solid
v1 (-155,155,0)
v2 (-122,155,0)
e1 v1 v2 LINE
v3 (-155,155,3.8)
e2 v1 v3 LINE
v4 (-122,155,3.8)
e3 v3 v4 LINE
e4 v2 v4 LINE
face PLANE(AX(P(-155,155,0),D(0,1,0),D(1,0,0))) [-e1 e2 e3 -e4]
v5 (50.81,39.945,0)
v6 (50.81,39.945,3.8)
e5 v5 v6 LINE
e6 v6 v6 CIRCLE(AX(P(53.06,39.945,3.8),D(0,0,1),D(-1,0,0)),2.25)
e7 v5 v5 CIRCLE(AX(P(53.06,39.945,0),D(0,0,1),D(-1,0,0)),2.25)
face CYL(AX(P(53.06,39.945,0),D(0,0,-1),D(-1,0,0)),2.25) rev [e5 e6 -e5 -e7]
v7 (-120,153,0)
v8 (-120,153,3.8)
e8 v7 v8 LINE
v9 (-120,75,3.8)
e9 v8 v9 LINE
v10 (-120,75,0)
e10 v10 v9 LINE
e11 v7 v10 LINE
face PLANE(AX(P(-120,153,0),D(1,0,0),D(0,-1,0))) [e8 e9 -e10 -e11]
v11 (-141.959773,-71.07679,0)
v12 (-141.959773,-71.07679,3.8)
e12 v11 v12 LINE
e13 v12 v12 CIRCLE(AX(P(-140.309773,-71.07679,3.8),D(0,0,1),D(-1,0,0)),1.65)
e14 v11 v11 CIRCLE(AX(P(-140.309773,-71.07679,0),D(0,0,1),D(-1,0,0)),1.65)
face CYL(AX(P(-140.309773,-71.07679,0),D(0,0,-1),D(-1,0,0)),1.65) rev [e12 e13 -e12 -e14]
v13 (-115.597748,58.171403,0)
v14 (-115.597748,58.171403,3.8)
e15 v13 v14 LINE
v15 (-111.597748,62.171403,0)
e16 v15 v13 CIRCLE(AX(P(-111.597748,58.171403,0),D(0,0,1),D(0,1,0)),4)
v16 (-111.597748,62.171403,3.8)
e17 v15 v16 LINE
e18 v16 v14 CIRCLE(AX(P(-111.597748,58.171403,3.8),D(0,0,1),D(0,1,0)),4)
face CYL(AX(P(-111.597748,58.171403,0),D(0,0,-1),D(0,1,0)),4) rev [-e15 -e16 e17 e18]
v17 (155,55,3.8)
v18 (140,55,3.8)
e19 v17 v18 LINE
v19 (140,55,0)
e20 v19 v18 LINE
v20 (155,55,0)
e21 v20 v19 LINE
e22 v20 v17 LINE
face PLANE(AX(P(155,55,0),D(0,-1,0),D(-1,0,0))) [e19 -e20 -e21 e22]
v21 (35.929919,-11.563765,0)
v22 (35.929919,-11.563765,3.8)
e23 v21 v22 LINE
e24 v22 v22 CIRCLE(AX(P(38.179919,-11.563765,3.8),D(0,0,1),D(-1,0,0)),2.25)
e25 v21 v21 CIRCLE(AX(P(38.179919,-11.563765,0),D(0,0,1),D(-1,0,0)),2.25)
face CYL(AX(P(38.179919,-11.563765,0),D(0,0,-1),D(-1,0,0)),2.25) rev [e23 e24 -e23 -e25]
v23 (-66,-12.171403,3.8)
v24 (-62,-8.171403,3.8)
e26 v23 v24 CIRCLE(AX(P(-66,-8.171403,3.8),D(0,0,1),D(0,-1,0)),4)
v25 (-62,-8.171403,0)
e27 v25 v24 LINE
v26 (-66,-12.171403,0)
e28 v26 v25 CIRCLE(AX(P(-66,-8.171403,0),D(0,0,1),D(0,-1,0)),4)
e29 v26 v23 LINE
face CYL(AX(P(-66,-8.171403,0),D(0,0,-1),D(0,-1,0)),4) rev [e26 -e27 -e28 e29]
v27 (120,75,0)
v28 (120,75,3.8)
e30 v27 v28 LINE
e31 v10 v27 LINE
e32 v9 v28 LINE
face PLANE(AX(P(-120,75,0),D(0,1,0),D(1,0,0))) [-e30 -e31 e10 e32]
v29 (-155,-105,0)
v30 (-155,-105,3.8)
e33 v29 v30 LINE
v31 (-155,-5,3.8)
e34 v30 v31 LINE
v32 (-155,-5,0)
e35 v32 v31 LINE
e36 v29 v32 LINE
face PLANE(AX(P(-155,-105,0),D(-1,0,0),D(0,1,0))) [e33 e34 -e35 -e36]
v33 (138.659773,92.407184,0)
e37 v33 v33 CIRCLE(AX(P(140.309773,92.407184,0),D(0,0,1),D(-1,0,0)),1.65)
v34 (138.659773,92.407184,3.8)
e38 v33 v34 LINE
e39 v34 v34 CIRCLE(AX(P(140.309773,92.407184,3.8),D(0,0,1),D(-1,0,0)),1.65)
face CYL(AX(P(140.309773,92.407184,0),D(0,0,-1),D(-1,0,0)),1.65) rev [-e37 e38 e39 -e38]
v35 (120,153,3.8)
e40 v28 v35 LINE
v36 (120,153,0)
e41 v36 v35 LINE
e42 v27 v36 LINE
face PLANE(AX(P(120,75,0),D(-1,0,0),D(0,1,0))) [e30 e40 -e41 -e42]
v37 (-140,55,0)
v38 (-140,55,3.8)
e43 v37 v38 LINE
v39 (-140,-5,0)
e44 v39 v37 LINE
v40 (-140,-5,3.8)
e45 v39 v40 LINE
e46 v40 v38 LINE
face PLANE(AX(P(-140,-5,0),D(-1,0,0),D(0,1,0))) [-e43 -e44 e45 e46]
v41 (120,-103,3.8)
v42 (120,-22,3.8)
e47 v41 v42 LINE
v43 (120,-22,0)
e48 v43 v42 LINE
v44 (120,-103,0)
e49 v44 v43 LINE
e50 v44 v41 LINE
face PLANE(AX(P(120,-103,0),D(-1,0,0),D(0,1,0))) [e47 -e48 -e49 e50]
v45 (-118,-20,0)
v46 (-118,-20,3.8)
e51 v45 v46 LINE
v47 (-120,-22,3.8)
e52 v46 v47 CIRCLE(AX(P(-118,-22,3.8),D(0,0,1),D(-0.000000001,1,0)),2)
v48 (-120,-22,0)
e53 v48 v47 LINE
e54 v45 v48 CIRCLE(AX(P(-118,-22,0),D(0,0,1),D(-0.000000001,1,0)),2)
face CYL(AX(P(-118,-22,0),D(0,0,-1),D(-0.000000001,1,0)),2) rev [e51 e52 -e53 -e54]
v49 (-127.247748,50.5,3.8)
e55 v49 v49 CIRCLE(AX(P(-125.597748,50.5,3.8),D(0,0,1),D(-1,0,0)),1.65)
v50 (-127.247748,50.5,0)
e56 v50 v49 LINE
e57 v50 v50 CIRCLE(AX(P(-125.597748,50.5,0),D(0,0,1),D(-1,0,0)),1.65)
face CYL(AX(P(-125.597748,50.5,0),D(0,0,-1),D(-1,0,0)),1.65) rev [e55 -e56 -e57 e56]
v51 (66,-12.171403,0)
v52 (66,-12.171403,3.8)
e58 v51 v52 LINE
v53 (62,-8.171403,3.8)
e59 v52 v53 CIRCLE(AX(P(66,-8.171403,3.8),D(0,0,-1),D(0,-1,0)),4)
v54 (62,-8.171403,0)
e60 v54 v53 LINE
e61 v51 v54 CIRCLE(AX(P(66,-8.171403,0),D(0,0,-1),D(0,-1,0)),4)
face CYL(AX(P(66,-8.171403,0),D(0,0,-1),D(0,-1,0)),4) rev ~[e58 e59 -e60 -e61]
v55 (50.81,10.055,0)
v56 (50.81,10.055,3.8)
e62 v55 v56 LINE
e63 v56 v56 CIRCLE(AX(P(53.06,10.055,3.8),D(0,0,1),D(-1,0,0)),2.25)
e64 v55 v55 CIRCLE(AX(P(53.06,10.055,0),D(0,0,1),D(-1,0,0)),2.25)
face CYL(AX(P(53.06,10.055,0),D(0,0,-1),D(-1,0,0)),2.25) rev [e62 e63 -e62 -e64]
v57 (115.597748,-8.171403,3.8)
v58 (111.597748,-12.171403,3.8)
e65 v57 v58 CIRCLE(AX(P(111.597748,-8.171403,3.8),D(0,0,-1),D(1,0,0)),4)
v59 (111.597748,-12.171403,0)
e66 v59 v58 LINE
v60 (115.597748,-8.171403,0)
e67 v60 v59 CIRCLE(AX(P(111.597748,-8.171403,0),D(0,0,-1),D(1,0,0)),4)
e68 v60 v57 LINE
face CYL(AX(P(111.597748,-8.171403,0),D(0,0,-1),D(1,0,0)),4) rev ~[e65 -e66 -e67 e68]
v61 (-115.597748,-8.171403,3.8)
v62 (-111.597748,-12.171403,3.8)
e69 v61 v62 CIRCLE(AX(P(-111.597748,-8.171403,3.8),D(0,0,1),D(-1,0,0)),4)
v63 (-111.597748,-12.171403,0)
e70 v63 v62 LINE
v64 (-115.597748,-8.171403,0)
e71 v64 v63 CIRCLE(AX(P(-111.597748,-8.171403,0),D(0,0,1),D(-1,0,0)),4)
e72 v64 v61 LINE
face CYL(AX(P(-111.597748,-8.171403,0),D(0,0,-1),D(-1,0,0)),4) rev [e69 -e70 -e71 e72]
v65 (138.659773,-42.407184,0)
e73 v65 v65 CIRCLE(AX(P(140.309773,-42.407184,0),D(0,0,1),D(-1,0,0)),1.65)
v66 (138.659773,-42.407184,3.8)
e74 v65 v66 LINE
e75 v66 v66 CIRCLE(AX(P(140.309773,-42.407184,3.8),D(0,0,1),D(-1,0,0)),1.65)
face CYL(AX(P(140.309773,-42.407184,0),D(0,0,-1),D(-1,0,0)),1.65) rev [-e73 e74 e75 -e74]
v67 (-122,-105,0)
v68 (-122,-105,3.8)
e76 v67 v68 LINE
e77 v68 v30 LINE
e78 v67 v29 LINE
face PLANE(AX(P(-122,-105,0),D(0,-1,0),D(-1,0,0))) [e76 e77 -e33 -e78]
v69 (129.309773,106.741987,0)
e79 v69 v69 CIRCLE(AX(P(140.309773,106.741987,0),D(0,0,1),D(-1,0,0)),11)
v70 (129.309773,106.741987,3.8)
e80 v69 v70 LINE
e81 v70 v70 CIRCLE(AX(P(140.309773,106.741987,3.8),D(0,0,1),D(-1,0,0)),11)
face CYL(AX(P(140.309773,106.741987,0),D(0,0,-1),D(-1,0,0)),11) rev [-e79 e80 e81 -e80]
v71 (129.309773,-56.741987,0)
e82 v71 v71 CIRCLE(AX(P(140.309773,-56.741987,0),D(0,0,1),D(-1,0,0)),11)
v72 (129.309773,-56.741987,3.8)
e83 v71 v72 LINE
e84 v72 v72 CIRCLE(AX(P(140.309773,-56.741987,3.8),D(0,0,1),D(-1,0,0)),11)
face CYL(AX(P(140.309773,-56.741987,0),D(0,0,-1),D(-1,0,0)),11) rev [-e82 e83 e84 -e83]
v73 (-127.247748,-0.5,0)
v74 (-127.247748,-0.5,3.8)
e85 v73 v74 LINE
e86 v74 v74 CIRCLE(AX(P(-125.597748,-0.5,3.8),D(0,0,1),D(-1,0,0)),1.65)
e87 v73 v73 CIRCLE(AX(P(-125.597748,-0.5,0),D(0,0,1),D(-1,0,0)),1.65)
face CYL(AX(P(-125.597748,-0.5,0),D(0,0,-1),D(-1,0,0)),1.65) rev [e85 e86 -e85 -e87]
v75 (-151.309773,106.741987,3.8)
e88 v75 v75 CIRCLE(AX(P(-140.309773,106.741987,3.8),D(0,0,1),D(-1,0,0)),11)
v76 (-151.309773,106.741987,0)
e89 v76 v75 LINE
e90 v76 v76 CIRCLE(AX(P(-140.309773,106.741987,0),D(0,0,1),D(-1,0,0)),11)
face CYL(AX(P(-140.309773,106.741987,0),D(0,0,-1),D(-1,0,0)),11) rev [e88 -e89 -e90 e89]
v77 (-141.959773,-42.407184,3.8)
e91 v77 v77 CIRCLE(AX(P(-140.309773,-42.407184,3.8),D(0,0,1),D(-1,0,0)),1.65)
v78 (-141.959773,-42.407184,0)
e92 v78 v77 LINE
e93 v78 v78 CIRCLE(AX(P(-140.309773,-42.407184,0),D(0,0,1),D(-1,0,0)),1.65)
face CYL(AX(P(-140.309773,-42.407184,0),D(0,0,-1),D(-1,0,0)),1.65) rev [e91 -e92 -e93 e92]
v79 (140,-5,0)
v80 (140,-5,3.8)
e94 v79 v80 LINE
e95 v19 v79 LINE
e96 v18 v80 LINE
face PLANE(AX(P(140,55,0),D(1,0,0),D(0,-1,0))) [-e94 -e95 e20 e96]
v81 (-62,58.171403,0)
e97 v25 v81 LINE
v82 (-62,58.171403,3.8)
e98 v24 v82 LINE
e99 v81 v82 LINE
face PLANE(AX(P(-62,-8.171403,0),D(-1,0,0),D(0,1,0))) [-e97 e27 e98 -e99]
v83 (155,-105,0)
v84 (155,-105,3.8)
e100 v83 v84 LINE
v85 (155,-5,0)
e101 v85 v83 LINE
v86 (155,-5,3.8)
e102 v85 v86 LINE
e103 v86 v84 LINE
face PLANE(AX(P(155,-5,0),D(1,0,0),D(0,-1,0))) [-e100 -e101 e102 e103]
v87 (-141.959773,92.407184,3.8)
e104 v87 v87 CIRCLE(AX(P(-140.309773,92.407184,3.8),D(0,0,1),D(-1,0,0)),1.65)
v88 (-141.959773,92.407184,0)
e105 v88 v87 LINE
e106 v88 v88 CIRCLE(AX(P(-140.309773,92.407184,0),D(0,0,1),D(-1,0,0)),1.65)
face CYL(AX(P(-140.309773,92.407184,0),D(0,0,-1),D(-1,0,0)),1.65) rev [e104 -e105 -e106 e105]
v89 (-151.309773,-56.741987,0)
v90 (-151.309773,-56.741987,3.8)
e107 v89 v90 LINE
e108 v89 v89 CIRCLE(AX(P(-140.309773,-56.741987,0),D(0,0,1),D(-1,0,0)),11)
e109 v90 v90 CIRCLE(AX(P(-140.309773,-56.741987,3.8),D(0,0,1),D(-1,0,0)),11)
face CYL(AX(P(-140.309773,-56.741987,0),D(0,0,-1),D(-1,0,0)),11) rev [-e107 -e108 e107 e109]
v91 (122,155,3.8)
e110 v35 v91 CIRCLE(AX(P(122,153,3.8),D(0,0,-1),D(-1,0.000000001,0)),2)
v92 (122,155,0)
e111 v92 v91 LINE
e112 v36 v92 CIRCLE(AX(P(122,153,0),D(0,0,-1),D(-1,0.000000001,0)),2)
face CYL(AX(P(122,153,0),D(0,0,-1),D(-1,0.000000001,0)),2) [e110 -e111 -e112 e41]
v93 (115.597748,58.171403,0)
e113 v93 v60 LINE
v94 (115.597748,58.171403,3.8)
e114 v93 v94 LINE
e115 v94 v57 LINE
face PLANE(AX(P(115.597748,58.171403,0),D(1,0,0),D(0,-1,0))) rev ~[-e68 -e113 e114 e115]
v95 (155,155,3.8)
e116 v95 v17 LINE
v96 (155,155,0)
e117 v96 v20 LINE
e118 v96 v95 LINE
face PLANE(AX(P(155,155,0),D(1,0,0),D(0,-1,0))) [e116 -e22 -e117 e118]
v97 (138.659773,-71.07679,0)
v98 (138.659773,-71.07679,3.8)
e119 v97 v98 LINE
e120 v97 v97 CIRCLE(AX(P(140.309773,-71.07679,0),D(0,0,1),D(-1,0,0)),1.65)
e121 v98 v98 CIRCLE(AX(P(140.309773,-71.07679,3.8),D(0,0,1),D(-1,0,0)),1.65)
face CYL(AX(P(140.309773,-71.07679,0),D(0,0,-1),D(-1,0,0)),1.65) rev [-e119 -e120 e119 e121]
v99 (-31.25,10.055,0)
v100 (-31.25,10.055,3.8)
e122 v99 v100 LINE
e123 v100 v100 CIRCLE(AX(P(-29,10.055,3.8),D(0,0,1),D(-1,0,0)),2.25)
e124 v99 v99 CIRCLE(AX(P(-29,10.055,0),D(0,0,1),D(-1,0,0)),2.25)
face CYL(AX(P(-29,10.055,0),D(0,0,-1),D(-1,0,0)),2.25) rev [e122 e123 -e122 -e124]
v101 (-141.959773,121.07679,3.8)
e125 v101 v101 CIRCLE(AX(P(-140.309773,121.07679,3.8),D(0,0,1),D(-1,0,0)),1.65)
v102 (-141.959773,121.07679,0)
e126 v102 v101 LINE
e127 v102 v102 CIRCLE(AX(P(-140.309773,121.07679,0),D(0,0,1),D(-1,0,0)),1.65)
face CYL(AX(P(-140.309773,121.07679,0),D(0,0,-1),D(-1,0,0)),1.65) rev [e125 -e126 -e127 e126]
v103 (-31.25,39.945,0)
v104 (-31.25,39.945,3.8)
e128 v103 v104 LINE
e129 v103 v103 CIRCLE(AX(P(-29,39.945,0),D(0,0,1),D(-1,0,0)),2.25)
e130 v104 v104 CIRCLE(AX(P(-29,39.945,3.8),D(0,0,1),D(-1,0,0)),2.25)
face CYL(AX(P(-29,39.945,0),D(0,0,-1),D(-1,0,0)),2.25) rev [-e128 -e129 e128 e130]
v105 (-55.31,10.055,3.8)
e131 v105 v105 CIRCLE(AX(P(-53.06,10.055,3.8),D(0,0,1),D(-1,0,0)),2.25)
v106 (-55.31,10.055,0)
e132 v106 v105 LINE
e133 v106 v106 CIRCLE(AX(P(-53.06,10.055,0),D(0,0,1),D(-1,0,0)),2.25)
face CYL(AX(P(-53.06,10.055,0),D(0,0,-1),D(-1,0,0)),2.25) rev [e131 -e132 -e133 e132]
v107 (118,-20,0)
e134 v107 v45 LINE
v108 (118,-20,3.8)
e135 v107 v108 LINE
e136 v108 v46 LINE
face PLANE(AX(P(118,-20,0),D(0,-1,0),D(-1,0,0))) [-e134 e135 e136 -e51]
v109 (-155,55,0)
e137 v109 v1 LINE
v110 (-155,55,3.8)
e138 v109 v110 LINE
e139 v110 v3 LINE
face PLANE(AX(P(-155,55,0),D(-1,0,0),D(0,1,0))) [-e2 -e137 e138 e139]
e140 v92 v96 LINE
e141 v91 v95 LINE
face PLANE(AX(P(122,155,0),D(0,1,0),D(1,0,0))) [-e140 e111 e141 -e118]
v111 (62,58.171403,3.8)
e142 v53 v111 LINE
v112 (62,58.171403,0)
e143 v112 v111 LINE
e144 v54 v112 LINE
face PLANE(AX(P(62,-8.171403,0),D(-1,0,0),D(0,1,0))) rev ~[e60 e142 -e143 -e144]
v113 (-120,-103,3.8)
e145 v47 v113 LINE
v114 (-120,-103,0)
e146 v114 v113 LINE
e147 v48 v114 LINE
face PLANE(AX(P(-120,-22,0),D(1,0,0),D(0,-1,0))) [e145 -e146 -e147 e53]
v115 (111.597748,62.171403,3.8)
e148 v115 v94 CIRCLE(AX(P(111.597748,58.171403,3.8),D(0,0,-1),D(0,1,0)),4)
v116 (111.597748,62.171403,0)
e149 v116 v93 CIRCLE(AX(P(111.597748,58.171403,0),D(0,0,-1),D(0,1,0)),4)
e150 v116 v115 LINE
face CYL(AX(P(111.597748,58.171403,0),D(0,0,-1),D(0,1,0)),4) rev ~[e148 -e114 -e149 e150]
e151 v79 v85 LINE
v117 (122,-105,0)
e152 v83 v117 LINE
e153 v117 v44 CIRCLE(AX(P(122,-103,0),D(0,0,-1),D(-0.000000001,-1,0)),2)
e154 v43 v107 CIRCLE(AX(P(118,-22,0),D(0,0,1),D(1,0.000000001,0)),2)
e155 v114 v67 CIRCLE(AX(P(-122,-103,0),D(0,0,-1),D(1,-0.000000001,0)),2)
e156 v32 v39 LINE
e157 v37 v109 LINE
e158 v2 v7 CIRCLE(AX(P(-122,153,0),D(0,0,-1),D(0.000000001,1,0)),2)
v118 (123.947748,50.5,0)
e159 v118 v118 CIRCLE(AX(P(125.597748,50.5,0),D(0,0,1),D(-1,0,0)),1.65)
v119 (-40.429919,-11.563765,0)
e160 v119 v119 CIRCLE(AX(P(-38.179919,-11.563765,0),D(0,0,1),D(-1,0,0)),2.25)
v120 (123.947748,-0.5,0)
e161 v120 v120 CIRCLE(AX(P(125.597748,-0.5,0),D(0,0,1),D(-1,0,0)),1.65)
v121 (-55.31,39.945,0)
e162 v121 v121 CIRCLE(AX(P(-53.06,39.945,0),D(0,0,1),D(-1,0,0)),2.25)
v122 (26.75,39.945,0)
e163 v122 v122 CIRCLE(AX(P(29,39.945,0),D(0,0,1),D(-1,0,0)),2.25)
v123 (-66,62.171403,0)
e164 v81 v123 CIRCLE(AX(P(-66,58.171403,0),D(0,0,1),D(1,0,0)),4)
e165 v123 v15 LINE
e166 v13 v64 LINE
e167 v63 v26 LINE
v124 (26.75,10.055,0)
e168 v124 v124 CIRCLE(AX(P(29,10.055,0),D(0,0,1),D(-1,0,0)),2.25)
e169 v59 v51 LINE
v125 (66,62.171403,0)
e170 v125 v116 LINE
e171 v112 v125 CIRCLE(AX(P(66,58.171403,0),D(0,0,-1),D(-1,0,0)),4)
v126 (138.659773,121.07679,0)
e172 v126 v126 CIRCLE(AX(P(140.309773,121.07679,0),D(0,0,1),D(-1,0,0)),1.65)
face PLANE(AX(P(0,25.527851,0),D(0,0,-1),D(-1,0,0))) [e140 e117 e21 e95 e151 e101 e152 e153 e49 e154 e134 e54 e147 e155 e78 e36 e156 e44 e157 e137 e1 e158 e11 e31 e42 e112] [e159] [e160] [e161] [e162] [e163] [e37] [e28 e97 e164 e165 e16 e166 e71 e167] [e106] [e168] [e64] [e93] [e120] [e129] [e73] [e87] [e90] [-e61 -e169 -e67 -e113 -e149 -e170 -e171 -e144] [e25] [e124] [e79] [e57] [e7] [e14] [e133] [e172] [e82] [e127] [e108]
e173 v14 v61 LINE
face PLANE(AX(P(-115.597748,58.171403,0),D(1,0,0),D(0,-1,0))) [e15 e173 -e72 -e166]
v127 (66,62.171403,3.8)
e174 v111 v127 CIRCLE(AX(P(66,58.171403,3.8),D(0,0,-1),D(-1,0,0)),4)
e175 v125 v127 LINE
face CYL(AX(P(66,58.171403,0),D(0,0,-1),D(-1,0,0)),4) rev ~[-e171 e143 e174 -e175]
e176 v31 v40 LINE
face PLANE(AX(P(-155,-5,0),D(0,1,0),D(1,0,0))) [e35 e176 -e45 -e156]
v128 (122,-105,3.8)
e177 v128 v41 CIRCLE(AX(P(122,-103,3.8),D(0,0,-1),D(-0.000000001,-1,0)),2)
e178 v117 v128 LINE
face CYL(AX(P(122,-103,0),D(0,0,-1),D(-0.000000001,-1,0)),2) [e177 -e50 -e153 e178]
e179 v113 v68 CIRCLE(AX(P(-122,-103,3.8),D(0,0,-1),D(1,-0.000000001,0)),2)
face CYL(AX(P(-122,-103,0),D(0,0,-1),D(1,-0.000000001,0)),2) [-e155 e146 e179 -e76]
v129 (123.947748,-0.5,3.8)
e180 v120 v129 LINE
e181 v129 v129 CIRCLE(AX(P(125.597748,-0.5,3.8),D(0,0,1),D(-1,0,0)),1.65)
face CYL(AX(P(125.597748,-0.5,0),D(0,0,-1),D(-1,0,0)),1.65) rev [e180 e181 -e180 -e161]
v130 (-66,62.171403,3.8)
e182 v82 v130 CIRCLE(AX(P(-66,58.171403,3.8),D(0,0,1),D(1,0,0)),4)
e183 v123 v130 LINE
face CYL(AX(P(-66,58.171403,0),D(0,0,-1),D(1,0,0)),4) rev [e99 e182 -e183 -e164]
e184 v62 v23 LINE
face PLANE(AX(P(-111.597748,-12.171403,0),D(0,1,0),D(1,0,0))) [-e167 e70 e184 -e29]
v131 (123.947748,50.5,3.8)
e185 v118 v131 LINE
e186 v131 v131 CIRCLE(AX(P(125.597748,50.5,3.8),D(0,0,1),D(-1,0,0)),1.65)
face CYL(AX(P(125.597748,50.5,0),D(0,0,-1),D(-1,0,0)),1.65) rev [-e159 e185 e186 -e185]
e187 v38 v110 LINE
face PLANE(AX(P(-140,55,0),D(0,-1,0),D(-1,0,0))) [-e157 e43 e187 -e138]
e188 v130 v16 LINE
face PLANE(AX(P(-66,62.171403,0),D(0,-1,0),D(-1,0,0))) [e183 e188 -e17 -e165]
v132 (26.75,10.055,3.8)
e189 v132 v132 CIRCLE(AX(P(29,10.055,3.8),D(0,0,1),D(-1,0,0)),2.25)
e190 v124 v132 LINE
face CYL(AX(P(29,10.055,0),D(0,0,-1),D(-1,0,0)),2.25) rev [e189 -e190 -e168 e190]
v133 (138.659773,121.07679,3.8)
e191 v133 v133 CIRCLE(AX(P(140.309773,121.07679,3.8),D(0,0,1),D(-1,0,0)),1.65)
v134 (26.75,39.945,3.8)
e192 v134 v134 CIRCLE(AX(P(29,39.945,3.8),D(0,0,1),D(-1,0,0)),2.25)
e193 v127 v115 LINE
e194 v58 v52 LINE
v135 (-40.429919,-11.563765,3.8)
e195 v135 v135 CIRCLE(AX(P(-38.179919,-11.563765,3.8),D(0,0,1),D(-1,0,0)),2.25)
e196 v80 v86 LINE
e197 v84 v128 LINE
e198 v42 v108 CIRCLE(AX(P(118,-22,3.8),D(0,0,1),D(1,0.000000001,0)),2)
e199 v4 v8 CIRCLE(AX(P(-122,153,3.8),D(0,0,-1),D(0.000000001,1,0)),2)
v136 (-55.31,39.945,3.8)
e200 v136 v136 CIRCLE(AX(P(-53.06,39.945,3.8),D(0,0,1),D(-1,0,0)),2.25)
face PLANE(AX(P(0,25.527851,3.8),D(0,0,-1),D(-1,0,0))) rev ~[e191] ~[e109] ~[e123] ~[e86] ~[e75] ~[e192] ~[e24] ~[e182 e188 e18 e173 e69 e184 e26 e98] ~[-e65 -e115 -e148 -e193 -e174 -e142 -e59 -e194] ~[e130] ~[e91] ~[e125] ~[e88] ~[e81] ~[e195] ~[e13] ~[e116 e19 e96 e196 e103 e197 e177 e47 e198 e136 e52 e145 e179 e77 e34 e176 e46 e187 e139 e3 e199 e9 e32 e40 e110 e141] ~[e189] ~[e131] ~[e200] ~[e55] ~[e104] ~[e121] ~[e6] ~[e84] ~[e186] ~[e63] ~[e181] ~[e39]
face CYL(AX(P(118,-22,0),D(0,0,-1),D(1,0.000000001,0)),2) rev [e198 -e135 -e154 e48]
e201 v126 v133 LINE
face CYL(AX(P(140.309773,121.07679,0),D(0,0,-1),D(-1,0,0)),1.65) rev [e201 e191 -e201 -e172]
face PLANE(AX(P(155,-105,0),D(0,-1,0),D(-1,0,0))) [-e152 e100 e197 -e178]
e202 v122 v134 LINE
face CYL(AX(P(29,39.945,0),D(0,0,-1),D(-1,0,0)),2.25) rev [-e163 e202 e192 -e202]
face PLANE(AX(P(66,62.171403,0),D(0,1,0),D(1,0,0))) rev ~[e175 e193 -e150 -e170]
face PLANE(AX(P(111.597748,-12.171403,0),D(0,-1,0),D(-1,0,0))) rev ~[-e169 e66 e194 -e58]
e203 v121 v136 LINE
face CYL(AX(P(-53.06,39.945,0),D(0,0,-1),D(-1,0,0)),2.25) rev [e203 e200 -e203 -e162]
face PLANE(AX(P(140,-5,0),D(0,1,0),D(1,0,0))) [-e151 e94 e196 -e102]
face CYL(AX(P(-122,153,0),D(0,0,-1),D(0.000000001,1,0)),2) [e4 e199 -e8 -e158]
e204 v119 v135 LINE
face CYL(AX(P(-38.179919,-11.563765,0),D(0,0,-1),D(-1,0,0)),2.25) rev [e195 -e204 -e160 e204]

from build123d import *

# Parameters (mm, degrees)
SKETCH2_R           = 1.65
SKETCH2_R_2         = 11
SKETCH2_R_3         = 2.25
BOSS_EXTRUDE1_DEPTH = 3.8


with BuildPart() as part:
    # Sketch2 → Boss-Extrude1 (new body)
    with BuildSketch(Plane.XY):
        with BuildLine():
            Line((-155, 155), (-122, 155))
            ThreePointArc((-122, 155), (-120.585786438, 154.414213562), (-120, 153))
            Line((-120, 153), (-120, 75))
            Line((-120, 75), (120, 75))
            Line((120, 75), (120, 153))
            ThreePointArc((120, 153), (120.585786438, 154.414213562), (122, 155))
            Line((122, 155), (155, 155))
            Line((155, 155), (155, 55))
            Line((155, 55), (140, 55))
            Line((140, 55), (140, -5))
            Line((140, -5), (155, -5))
            Line((155, -5), (155, -105))
            Line((155, -105), (122, -105))
            ThreePointArc((122, -105), (120.585786438, -104.414213562), (120, -103))
            Line((120, -103), (120, -22))
            ThreePointArc((120, -22), (119.414213562, -20.585786438), (118, -20))
            Line((118, -20), (-118, -20))
            ThreePointArc((-118, -20), (-119.414213562, -20.585786438), (-120, -22))
            Line((-120, -22), (-120, -103))
            ThreePointArc((-120, -103), (-120.585786438, -104.414213562), (-122, -105))
            Line((-122, -105), (-155, -105))
            Line((-155, -105), (-155, -5))
            Line((-155, -5), (-140, -5))
            Line((-140, -5), (-140, 55))
            Line((-140, 55), (-155, 55))
            Line((-155, 55), (-155, 155))
        make_face()
        with Locations(Location((-140.309773495, 121.076789794, 0), (0, 0, 180))):
            Circle(SKETCH2_R, mode=Mode.SUBTRACT)
        with Locations(Location((-140.309773495, 92.407184142, 0), (0, 0, 180))):
            Circle(SKETCH2_R, mode=Mode.SUBTRACT)
        with Locations(Location((140.309773495, 121.076789794, 0), (0, 0, 180))):
            Circle(SKETCH2_R, mode=Mode.SUBTRACT)
        with Locations(Location((140.309773495, 92.407184142, 0), (0, 0, 180))):
            Circle(SKETCH2_R, mode=Mode.SUBTRACT)
        with Locations(Location((140.309773495, 106.741986968, 0), (0, 0, 180))):
            Circle(SKETCH2_R_2, mode=Mode.SUBTRACT)
        with Locations(Location((-140.309773495, 106.741986968, 0), (0, 0, 180))):
            Circle(SKETCH2_R_2, mode=Mode.SUBTRACT)
        with Locations(Location((125.59774802, -0.5, 0), (0, 0, 180))):
            Circle(SKETCH2_R, mode=Mode.SUBTRACT)
        with Locations(Location((125.59774802, 50.5, 0), (0, 0, 180))):
            Circle(SKETCH2_R, mode=Mode.SUBTRACT)
        with Locations(Location((-125.59774802, -0.5, 0), (0, 0, 180))):
            Circle(SKETCH2_R, mode=Mode.SUBTRACT)
        with Locations(Location((-125.59774802, 50.5, 0), (0, 0, 180))):
            Circle(SKETCH2_R, mode=Mode.SUBTRACT)
        with Locations(Location((-29, 10.055, 0), (0, 0, 180))):
            Circle(SKETCH2_R_3, mode=Mode.SUBTRACT)
        with Locations(Location((-29, 39.945, 0), (0, 0, 180))):
            Circle(SKETCH2_R_3, mode=Mode.SUBTRACT)
        with Locations(Location((-53.06, 39.945, 0), (0, 0, 180))):
            Circle(SKETCH2_R_3, mode=Mode.SUBTRACT)
        with Locations(Location((-53.06, 10.055, 0), (0, 0, 180))):
            Circle(SKETCH2_R_3, mode=Mode.SUBTRACT)
        with Locations(Location((53.06, 10.055, 0), (0, 0, 180))):
            Circle(SKETCH2_R_3, mode=Mode.SUBTRACT)
        with Locations(Location((29, 10.055, 0), (0, 0, 180))):
            Circle(SKETCH2_R_3, mode=Mode.SUBTRACT)
        with Locations(Location((29, 39.945, 0), (0, 0, 180))):
            Circle(SKETCH2_R_3, mode=Mode.SUBTRACT)
        with Locations(Location((53.06, 39.945, 0), (0, 0, 180))):
            Circle(SKETCH2_R_3, mode=Mode.SUBTRACT)
        with Locations(Location((140.309773495, -71.076789794, 0), (0, 0, 180))):
            Circle(SKETCH2_R, mode=Mode.SUBTRACT)
        with Locations(Location((140.309773495, -42.407184142, 0), (0, 0, 180))):
            Circle(SKETCH2_R, mode=Mode.SUBTRACT)
        with Locations(Location((140.309773495, -56.741986968, 0), (0, 0, 180))):
            Circle(SKETCH2_R_2, mode=Mode.SUBTRACT)
        with Locations(Location((-140.309773495, -56.741986968, 0), (0, 0, 180))):
            Circle(SKETCH2_R_2, mode=Mode.SUBTRACT)
        with Locations(Location((-140.309773495, -42.407184142, 0), (0, 0, 180))):
            Circle(SKETCH2_R, mode=Mode.SUBTRACT)
        with Locations(Location((-140.309773495, -71.076789794, 0), (0, 0, 180))):
            Circle(SKETCH2_R, mode=Mode.SUBTRACT)
        with Locations(Location((38.179918963, -11.563765186, 0), (0, 0, 180))):
            Circle(SKETCH2_R_3, mode=Mode.SUBTRACT)
        with Locations(Location((-38.179918963, -11.563765186, 0), (0, 0, 180))):
            Circle(SKETCH2_R_3, mode=Mode.SUBTRACT)
        with BuildLine():
            Line((-66, 62.171403079), (-111.59774802, 62.171403079))
            ThreePointArc((-111.59774802, 62.171403079), (-114.426175145, 60.999830204), (-115.59774802, 58.171403079))
            Line((-115.59774802, 58.171403079), (-115.59774802, -8.171403079))
            ThreePointArc((-115.59774802, -8.171403079), (-114.426175145, -10.999830204), (-111.59774802, -12.171403079))
            Line((-111.59774802, -12.171403079), (-66, -12.171403079))
            ThreePointArc((-66, -12.171403079), (-63.171572875, -10.999830204), (-62, -8.171403079))
            Line((-62, -8.171403079), (-62, 58.171403079))
            ThreePointArc((-62, 58.171403079), (-63.171572875, 60.999830204), (-66, 62.171403079))
        make_face(mode=Mode.SUBTRACT)
        with BuildLine():
            Line((66, 62.171403079), (111.59774802, 62.171403079))
            ThreePointArc((111.59774802, 62.171403079), (114.426175145, 60.999830204), (115.59774802, 58.171403079))
            Line((115.59774802, 58.171403079), (115.59774802, -8.171403079))
            ThreePointArc((115.59774802, -8.171403079), (114.426175145, -10.999830204), (111.59774802, -12.171403079))
            Line((111.59774802, -12.171403079), (66, -12.171403079))
            ThreePointArc((66, -12.171403079), (63.171572875, -10.999830204), (62, -8.171403079))
            Line((62, -8.171403079), (62, 58.171403079))
            ThreePointArc((62, 58.171403079), (63.171572875, 60.999830204), (66, 62.171403079))
        make_face(mode=Mode.SUBTRACT)
    extrude(amount=BOSS_EXTRUDE1_DEPTH)


solid = part.part
